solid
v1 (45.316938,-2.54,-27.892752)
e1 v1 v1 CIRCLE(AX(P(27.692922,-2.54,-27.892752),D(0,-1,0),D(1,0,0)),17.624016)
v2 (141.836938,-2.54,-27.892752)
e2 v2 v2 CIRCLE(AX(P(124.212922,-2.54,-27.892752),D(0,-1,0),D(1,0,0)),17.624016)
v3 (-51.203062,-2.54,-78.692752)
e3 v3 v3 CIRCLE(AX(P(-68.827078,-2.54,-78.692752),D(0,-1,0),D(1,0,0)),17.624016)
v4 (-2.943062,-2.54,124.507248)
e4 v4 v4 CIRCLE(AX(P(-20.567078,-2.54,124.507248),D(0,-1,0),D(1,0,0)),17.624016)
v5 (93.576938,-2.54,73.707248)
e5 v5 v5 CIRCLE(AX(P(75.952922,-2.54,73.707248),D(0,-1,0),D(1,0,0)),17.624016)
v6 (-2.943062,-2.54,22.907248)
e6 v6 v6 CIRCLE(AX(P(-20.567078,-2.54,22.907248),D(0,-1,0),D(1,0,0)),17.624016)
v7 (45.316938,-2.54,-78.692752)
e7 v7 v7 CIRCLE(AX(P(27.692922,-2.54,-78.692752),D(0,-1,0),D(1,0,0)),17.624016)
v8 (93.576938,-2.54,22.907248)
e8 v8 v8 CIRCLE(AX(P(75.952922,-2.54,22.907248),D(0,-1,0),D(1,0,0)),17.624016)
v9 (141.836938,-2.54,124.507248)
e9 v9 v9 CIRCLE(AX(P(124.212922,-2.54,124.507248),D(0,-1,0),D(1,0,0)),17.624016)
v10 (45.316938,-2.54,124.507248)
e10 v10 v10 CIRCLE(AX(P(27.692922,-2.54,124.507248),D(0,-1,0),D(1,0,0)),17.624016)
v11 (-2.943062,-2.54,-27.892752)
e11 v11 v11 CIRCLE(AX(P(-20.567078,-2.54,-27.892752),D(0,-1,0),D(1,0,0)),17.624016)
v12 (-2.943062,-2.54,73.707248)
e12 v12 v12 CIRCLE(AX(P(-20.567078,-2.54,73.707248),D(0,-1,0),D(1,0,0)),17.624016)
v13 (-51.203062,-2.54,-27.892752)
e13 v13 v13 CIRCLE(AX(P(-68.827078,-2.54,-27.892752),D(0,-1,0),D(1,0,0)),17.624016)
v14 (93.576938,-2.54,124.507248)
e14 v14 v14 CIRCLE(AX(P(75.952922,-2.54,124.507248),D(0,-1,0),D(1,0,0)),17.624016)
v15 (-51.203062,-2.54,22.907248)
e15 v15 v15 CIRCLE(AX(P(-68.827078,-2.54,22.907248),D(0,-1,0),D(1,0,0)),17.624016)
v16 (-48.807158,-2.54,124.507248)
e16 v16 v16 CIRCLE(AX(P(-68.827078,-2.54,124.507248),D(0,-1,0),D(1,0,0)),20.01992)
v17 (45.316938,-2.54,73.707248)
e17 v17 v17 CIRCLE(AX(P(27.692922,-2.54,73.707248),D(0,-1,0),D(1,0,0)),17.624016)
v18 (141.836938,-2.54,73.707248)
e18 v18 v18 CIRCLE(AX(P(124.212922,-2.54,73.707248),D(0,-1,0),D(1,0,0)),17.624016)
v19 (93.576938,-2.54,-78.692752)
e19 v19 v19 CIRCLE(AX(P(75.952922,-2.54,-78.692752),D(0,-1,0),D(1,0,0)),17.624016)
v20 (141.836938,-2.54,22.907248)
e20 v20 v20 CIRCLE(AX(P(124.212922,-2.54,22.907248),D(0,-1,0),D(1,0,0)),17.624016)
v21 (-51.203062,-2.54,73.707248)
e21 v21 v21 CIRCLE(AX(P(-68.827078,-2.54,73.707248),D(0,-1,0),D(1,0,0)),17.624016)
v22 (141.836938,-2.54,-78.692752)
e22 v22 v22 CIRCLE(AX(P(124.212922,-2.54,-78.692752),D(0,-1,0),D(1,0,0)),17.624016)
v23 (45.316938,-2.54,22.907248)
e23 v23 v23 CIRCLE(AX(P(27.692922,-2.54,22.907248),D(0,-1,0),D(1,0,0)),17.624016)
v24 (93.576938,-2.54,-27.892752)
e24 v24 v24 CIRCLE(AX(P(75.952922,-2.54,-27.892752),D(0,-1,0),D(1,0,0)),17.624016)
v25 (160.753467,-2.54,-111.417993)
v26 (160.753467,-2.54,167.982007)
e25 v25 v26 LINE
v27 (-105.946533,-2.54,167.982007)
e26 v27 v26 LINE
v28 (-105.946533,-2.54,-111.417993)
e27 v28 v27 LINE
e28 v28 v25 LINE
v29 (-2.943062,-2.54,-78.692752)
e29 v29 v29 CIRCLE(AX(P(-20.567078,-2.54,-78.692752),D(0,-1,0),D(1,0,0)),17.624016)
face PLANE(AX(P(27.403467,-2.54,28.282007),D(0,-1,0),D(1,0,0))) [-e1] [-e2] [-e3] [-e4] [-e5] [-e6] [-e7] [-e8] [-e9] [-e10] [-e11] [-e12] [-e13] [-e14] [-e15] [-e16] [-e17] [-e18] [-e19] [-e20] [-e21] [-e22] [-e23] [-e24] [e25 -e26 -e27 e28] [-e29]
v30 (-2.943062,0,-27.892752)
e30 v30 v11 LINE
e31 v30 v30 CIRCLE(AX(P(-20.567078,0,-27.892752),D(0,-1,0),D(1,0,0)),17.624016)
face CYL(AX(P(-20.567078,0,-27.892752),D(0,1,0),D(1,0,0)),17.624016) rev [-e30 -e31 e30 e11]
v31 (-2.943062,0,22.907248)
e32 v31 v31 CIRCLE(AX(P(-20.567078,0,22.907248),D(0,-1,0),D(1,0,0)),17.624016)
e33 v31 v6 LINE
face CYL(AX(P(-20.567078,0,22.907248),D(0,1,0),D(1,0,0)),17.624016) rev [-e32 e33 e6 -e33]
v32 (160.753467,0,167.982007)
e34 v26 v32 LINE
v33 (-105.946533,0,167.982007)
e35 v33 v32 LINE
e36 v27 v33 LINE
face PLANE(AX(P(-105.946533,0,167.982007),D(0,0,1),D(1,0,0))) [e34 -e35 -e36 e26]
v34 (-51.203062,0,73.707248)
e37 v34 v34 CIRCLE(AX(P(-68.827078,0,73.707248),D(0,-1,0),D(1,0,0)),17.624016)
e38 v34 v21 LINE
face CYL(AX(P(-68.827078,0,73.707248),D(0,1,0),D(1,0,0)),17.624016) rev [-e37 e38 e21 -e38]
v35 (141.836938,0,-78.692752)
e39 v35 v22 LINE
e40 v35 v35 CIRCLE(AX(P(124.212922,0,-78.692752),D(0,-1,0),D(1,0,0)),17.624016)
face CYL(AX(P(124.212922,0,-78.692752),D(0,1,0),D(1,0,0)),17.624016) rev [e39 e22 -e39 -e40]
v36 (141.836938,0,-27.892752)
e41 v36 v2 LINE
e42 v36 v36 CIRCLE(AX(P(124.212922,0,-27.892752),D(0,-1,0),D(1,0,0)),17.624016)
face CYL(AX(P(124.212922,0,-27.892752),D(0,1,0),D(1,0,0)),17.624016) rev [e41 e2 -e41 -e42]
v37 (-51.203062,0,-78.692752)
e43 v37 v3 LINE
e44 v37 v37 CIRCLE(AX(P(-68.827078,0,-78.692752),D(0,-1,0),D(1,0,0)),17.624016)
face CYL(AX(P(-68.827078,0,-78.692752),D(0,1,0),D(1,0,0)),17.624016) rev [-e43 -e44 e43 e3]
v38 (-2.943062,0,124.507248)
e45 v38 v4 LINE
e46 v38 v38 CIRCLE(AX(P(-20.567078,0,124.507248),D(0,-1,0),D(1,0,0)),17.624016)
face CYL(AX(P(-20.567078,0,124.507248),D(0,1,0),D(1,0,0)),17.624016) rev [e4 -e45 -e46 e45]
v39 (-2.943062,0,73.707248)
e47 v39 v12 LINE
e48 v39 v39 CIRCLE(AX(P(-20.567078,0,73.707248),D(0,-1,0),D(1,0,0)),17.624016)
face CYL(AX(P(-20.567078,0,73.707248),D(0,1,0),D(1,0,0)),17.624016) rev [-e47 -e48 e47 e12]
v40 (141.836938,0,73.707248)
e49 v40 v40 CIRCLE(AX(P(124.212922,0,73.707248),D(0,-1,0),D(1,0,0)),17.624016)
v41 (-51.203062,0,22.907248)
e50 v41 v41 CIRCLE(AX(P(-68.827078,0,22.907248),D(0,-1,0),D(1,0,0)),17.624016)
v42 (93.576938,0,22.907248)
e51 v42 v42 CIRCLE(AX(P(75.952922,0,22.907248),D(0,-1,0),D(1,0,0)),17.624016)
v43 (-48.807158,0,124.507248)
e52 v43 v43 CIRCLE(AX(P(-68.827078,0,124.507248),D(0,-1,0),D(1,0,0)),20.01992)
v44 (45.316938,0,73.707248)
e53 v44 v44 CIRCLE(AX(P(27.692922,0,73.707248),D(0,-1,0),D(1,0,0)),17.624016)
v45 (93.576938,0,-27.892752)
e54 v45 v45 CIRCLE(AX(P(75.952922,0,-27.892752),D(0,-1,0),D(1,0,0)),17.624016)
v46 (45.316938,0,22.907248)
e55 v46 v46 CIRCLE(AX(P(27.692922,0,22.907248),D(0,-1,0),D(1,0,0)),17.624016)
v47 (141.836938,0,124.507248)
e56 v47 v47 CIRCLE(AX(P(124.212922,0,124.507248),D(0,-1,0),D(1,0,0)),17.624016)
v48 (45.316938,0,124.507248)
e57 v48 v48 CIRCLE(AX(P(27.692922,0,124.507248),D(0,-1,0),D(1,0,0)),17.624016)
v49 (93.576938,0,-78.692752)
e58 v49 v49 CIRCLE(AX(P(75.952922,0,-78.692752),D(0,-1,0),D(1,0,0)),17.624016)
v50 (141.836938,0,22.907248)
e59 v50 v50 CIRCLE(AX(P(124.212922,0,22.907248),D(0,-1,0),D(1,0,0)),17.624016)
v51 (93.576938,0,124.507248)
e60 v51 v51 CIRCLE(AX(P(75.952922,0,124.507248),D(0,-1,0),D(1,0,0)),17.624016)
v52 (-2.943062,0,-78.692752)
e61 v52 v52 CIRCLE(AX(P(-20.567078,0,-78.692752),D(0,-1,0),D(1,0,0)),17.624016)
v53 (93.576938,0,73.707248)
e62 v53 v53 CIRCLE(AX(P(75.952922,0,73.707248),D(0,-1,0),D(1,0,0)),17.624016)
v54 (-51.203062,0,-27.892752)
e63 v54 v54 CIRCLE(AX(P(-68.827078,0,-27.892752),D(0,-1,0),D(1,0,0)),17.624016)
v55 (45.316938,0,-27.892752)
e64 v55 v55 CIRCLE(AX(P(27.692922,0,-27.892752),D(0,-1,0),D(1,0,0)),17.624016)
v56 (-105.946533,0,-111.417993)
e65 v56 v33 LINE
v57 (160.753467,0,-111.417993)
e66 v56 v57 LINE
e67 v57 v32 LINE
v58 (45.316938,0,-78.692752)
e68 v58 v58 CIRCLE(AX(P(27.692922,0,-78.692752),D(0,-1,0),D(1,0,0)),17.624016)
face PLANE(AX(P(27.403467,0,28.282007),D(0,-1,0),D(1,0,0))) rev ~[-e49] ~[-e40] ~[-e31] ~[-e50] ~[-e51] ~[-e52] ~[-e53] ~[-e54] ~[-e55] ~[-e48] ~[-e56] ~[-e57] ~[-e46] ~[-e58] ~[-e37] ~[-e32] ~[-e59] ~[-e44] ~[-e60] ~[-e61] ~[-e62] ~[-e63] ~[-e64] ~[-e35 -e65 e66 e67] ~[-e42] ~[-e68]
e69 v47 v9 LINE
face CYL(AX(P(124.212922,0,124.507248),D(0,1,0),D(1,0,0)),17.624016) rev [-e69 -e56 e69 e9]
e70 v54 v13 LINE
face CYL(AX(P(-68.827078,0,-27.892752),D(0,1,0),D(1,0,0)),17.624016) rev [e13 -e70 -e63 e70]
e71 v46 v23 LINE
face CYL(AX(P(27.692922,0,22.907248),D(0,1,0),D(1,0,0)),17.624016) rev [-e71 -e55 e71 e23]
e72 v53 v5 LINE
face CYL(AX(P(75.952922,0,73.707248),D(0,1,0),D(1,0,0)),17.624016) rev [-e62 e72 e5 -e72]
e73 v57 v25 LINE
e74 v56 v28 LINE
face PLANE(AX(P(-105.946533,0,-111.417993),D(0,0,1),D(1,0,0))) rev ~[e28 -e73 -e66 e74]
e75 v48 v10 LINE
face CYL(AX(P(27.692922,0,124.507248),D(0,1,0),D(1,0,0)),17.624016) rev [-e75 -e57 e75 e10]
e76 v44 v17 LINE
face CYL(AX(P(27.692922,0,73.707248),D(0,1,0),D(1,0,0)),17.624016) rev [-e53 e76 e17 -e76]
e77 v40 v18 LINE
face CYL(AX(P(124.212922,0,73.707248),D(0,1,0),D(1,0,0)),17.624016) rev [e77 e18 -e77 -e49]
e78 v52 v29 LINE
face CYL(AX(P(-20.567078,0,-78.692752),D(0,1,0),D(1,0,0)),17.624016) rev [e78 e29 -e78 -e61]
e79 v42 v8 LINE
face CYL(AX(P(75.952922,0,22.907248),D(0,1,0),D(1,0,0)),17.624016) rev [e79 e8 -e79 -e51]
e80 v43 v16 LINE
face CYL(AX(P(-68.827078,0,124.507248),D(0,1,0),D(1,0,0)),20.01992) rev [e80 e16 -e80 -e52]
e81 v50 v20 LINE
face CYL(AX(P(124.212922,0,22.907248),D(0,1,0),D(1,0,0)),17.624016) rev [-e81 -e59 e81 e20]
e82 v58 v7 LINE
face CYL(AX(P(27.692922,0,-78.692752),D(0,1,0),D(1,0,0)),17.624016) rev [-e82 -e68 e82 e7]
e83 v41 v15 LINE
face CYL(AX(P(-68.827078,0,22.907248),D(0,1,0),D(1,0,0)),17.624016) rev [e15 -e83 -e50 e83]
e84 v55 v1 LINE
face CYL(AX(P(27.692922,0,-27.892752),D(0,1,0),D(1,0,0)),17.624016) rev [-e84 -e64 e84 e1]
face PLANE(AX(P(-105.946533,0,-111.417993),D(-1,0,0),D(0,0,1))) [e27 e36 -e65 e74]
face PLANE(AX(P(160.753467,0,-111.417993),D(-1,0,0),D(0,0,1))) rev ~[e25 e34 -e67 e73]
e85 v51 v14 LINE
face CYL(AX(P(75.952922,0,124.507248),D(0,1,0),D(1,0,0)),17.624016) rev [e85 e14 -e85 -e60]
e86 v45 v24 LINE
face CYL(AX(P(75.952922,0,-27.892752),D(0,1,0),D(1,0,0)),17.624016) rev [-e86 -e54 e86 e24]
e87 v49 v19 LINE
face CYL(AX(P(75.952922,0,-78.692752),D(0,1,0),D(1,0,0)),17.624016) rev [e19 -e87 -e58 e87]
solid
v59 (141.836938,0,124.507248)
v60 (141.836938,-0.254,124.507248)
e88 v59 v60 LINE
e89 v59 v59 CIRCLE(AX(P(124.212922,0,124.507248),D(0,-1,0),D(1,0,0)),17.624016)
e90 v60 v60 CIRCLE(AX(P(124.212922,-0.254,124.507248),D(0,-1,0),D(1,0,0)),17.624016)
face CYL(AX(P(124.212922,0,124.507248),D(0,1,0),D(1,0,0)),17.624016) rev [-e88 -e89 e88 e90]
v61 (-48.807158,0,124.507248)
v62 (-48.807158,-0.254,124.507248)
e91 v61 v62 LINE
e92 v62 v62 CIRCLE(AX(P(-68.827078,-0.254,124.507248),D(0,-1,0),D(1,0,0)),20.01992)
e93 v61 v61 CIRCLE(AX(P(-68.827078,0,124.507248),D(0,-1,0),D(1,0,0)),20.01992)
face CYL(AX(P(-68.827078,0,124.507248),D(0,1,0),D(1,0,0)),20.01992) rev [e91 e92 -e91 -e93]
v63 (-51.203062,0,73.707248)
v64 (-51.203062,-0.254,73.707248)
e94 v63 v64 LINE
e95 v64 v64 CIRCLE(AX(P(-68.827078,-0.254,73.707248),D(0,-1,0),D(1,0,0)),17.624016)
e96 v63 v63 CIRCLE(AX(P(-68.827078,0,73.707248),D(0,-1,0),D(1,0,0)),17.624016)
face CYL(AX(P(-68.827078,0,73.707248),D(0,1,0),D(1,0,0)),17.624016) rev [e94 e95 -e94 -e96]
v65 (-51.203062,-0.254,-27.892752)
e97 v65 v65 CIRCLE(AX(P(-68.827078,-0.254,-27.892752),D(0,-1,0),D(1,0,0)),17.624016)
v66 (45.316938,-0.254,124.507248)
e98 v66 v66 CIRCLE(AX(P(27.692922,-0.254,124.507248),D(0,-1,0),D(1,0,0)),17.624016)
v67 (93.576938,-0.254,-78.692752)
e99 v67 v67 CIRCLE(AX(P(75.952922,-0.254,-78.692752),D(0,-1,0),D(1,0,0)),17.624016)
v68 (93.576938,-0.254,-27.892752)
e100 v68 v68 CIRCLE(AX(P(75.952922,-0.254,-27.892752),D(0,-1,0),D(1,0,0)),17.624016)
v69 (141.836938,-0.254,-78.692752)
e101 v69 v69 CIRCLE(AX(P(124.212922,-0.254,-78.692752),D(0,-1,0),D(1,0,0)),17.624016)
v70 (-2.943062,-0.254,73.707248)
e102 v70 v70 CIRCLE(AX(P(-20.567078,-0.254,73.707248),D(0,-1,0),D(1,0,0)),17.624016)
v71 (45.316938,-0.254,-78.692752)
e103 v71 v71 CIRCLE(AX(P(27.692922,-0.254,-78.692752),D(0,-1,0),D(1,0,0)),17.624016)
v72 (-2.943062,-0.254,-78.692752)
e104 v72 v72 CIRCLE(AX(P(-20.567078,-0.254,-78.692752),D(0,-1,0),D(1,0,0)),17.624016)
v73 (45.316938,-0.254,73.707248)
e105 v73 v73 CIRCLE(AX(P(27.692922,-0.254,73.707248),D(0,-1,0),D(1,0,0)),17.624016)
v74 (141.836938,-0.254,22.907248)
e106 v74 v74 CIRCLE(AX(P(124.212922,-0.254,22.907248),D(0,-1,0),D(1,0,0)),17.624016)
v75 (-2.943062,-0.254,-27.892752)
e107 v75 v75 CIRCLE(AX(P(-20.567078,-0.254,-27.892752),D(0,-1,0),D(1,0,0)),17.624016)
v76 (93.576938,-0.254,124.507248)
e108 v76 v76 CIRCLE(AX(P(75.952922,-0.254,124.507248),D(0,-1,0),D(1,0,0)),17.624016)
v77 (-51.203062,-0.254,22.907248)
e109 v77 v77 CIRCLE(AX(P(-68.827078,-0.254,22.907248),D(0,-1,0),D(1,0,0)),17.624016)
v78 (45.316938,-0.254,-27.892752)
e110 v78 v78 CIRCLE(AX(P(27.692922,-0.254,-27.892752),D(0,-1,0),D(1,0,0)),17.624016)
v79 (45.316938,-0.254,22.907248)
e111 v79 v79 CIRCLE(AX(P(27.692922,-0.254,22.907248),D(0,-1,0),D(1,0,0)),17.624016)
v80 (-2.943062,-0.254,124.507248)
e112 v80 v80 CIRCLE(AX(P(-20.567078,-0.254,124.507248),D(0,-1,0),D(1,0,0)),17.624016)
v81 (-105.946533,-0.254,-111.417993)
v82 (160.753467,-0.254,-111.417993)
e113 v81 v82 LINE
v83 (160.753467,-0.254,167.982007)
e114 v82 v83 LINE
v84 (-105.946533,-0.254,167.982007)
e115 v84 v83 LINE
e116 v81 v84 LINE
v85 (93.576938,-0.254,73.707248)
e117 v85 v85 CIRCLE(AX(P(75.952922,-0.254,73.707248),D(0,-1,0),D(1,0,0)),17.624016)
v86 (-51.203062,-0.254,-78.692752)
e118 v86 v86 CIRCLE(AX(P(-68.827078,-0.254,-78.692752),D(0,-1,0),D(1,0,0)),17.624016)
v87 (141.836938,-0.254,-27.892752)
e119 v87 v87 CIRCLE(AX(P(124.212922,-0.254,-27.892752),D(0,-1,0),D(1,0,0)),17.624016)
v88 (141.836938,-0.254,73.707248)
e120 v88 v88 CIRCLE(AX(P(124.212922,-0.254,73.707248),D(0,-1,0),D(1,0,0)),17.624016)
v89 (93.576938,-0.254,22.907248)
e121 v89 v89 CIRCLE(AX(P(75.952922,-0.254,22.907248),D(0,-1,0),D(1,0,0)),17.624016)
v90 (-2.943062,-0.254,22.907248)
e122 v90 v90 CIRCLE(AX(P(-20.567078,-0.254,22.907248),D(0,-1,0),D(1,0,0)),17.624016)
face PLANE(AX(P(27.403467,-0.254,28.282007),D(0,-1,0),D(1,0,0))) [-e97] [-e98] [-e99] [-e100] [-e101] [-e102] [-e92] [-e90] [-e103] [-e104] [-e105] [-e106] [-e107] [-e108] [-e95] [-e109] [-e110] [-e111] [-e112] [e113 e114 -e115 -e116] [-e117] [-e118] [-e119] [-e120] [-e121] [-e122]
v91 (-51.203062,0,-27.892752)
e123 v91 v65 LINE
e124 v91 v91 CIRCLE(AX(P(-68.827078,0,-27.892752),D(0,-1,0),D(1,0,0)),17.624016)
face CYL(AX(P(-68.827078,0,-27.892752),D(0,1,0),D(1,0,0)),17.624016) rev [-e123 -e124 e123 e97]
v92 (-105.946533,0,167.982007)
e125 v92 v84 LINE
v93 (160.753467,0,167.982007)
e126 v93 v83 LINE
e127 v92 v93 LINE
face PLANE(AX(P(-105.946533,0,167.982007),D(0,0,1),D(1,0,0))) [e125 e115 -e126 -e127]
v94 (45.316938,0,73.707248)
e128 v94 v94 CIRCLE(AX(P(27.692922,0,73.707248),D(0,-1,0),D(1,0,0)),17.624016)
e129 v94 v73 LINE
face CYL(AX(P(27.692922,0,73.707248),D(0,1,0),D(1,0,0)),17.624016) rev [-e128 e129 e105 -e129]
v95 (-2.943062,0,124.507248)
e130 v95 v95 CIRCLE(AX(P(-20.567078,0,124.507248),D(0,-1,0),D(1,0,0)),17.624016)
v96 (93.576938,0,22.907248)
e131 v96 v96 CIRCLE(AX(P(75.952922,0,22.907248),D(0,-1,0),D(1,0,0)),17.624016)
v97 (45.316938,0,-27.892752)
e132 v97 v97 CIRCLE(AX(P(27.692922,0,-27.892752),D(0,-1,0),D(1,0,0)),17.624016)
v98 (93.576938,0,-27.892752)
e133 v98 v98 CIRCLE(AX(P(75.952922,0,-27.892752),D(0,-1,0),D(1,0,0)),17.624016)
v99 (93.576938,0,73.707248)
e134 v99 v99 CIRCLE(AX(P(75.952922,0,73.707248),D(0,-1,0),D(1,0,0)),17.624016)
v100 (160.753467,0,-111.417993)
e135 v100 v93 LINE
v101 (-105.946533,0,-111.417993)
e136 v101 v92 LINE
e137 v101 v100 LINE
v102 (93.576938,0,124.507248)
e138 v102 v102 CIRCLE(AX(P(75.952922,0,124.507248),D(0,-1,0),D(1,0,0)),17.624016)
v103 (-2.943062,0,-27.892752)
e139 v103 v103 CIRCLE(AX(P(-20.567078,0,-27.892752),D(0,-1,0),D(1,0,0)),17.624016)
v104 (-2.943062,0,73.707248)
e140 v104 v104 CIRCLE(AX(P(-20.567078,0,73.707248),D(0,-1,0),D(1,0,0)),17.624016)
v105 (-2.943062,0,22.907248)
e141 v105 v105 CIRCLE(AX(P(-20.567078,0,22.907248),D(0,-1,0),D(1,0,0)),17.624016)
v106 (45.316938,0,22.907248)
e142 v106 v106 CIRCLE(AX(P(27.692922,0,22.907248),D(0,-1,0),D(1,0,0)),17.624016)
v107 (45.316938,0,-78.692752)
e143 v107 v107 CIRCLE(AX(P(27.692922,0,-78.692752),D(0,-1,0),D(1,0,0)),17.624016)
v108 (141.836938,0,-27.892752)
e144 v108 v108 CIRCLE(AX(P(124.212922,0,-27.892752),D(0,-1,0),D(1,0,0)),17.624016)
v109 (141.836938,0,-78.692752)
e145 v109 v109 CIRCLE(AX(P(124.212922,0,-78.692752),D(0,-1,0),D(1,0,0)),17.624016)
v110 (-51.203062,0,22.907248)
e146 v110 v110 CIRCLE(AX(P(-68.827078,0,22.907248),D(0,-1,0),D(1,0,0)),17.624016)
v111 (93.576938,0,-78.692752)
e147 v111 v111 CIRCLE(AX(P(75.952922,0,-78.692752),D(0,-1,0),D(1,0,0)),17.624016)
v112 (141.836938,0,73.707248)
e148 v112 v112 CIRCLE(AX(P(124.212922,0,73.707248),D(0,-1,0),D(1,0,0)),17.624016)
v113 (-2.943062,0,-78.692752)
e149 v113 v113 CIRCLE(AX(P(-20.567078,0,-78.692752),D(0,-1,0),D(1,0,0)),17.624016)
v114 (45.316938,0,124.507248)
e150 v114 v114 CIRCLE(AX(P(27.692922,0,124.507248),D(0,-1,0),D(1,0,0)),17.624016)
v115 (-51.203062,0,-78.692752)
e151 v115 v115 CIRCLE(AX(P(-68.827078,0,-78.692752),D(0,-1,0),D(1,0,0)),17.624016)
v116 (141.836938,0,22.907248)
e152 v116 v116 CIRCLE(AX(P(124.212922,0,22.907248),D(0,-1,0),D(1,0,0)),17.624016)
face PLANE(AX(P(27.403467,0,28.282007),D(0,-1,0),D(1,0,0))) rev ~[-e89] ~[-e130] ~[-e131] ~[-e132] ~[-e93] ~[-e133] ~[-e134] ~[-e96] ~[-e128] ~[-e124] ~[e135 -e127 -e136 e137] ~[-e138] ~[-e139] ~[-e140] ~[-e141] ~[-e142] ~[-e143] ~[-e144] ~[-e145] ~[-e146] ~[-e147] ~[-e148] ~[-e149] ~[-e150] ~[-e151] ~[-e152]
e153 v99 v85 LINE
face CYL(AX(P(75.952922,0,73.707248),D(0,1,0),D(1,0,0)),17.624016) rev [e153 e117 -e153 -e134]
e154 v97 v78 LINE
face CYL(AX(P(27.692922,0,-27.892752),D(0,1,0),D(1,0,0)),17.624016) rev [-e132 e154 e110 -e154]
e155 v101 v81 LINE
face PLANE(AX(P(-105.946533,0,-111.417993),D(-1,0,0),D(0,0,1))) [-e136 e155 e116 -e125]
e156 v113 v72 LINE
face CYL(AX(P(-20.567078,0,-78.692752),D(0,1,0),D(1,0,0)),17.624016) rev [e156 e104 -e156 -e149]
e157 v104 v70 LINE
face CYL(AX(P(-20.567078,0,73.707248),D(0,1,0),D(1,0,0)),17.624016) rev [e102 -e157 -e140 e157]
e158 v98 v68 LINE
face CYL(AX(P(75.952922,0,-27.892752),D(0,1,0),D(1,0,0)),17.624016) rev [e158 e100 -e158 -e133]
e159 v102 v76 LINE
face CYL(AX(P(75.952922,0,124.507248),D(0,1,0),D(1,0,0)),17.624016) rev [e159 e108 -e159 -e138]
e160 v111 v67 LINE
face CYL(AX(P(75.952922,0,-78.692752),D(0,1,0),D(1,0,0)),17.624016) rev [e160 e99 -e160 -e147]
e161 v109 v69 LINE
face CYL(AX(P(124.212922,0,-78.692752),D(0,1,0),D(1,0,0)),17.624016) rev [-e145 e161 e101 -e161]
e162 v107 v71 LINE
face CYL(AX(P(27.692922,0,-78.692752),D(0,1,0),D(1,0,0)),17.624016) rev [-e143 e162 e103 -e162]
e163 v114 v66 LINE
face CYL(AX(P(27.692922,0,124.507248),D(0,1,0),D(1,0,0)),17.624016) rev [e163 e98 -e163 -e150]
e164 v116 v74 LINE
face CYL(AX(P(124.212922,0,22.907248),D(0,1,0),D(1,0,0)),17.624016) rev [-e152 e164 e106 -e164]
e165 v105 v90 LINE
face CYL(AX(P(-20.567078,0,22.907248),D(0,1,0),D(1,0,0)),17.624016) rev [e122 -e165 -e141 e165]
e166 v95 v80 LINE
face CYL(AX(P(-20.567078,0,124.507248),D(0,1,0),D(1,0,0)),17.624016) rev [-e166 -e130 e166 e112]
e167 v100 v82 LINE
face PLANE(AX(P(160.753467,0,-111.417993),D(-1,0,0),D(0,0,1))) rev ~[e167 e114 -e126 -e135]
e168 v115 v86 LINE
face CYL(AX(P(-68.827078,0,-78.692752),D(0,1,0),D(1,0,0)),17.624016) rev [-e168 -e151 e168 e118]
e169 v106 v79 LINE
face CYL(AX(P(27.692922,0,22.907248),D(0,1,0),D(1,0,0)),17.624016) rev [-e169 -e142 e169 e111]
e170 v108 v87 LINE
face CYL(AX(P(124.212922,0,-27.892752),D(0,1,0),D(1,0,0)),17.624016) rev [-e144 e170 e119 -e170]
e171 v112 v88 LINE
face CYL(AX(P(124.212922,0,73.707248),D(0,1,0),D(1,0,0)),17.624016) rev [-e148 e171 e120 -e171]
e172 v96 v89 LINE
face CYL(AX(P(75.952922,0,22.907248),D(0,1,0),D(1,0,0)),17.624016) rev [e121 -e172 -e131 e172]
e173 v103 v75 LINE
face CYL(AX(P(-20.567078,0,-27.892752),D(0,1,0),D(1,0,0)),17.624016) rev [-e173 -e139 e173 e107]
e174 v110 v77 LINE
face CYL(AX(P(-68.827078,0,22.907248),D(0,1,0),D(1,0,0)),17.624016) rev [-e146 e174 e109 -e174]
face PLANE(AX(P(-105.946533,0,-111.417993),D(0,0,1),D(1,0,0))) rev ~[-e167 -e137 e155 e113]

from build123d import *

# Parameters (mm, degrees)
F0_W     = 266.7
F0_H     = 279.4
F0_R     = 17.624016
F0_R_2   = 20.01992
F1_DEPTH = 2.54
F2_DEPTH = 1.27
F3_DEPTH = 0.254


with BuildPart() as f1:
    # F0 (on Front) → F1 (new body)
    with BuildSketch(Plane.XZ):
        with Locations((27.403467, 28.282007)):
            Rectangle(F0_W, F0_H)
        with Locations((-68.827078, -78.692752)):
            Circle(F0_R, mode=Mode.SUBTRACT)
        with Locations((-20.567078, -78.692752)):
            Circle(F0_R, mode=Mode.SUBTRACT)
        with Locations((-68.827078, -27.892752)):
            Circle(F0_R, mode=Mode.SUBTRACT)
        with Locations((-68.827078, 22.907248)):
            Circle(F0_R, mode=Mode.SUBTRACT)
        with Locations((-20.567078, -27.892752)):
            Circle(F0_R, mode=Mode.SUBTRACT)
        with Locations((-20.567078, 22.907248)):
            Circle(F0_R, mode=Mode.SUBTRACT)
        with Locations((27.692922, -78.692752)):
            Circle(F0_R, mode=Mode.SUBTRACT)
        with Locations((75.952922, -78.692752)):
            Circle(F0_R, mode=Mode.SUBTRACT)
        with Locations((124.212922, -78.692752)):
            Circle(F0_R, mode=Mode.SUBTRACT)
        with Locations((27.692922, -27.892752)):
            Circle(F0_R, mode=Mode.SUBTRACT)
        with Locations((75.952922, -27.892752)):
            Circle(F0_R, mode=Mode.SUBTRACT)
        with Locations((27.692922, 22.907248)):
            Circle(F0_R, mode=Mode.SUBTRACT)
        with Locations((75.952922, 22.907248)):
            Circle(F0_R, mode=Mode.SUBTRACT)
        with Locations((124.212922, -27.892752)):
            Circle(F0_R, mode=Mode.SUBTRACT)
        with Locations((124.212922, 22.907248)):
            Circle(F0_R, mode=Mode.SUBTRACT)
        with Locations((-68.827078, 73.707248)):
            Circle(F0_R, mode=Mode.SUBTRACT)
        with Locations((-20.567078, 73.707248)):
            Circle(F0_R, mode=Mode.SUBTRACT)
        with Locations((-68.827078, 124.507248)):
            Circle(F0_R_2, mode=Mode.SUBTRACT)
        with Locations((-20.567078, 124.507248)):
            Circle(F0_R, mode=Mode.SUBTRACT)
        with Locations((27.692922, 73.707248)):
            Circle(F0_R, mode=Mode.SUBTRACT)
        with Locations((75.952922, 73.707248)):
            Circle(F0_R, mode=Mode.SUBTRACT)
        with Locations((124.212922, 73.707248)):
            Circle(F0_R, mode=Mode.SUBTRACT)
        with Locations((27.692922, 124.507248)):
            Circle(F0_R, mode=Mode.SUBTRACT)
        with Locations((75.952922, 124.507248)):
            Circle(F0_R, mode=Mode.SUBTRACT)
        with Locations((124.212922, 124.507248)):
            Circle(F0_R, mode=Mode.SUBTRACT)
    extrude(amount=F1_DEPTH)

    # F0 (on Front) → F2 (join)
    with BuildSketch(Plane.XZ):
        with Locations((27.403467, 28.282007)):
            Rectangle(F0_W, F0_H)
        with Locations((-68.827078, -78.692752)):
            Circle(F0_R, mode=Mode.SUBTRACT)
        with Locations((-20.567078, -78.692752)):
            Circle(F0_R, mode=Mode.SUBTRACT)
        with Locations((-68.827078, -27.892752)):
            Circle(F0_R, mode=Mode.SUBTRACT)
        with Locations((-68.827078, 22.907248)):
            Circle(F0_R, mode=Mode.SUBTRACT)
        with Locations((-20.567078, -27.892752)):
            Circle(F0_R, mode=Mode.SUBTRACT)
        with Locations((-20.567078, 22.907248)):
            Circle(F0_R, mode=Mode.SUBTRACT)
        with Locations((27.692922, -78.692752)):
            Circle(F0_R, mode=Mode.SUBTRACT)
        with Locations((75.952922, -78.692752)):
            Circle(F0_R, mode=Mode.SUBTRACT)
        with Locations((124.212922, -78.692752)):
            Circle(F0_R, mode=Mode.SUBTRACT)
        with Locations((27.692922, -27.892752)):
            Circle(F0_R, mode=Mode.SUBTRACT)
        with Locations((75.952922, -27.892752)):
            Circle(F0_R, mode=Mode.SUBTRACT)
        with Locations((27.692922, 22.907248)):
            Circle(F0_R, mode=Mode.SUBTRACT)
        with Locations((75.952922, 22.907248)):
            Circle(F0_R, mode=Mode.SUBTRACT)
        with Locations((124.212922, -27.892752)):
            Circle(F0_R, mode=Mode.SUBTRACT)
        with Locations((124.212922, 22.907248)):
            Circle(F0_R, mode=Mode.SUBTRACT)
        with Locations((-68.827078, 73.707248)):
            Circle(F0_R, mode=Mode.SUBTRACT)
        with Locations((-20.567078, 73.707248)):
            Circle(F0_R, mode=Mode.SUBTRACT)
        with Locations((-68.827078, 124.507248)):
            Circle(F0_R_2, mode=Mode.SUBTRACT)
        with Locations((-20.567078, 124.507248)):
            Circle(F0_R, mode=Mode.SUBTRACT)
        with Locations((27.692922, 73.707248)):
            Circle(F0_R, mode=Mode.SUBTRACT)
        with Locations((75.952922, 73.707248)):
            Circle(F0_R, mode=Mode.SUBTRACT)
        with Locations((124.212922, 73.707248)):
            Circle(F0_R, mode=Mode.SUBTRACT)
        with Locations((27.692922, 124.507248)):
            Circle(F0_R, mode=Mode.SUBTRACT)
        with Locations((75.952922, 124.507248)):
            Circle(F0_R, mode=Mode.SUBTRACT)
        with Locations((124.212922, 124.507248)):
            Circle(F0_R, mode=Mode.SUBTRACT)
    extrude(amount=F2_DEPTH)


with BuildPart() as f3:
    # F0 (on Front) → F3 (new body)
    with BuildSketch(Plane.XZ):
        with Locations((27.403467, 28.282007)):
            Rectangle(F0_W, F0_H)
        with Locations((-68.827078, -78.692752)):
            Circle(F0_R, mode=Mode.SUBTRACT)
        with Locations((-20.567078, -78.692752)):
            Circle(F0_R, mode=Mode.SUBTRACT)
        with Locations((-68.827078, -27.892752)):
            Circle(F0_R, mode=Mode.SUBTRACT)
        with Locations((-68.827078, 22.907248)):
            Circle(F0_R, mode=Mode.SUBTRACT)
        with Locations((-20.567078, -27.892752)):
            Circle(F0_R, mode=Mode.SUBTRACT)
        with Locations((-20.567078, 22.907248)):
            Circle(F0_R, mode=Mode.SUBTRACT)
        with Locations((27.692922, -78.692752)):
            Circle(F0_R, mode=Mode.SUBTRACT)
        with Locations((75.952922, -78.692752)):
            Circle(F0_R, mode=Mode.SUBTRACT)
        with Locations((124.212922, -78.692752)):
            Circle(F0_R, mode=Mode.SUBTRACT)
        with Locations((27.692922, -27.892752)):
            Circle(F0_R, mode=Mode.SUBTRACT)
        with Locations((75.952922, -27.892752)):
            Circle(F0_R, mode=Mode.SUBTRACT)
        with Locations((27.692922, 22.907248)):
            Circle(F0_R, mode=Mode.SUBTRACT)
        with Locations((75.952922, 22.907248)):
            Circle(F0_R, mode=Mode.SUBTRACT)
        with Locations((124.212922, -27.892752)):
            Circle(F0_R, mode=Mode.SUBTRACT)
        with Locations((124.212922, 22.907248)):
            Circle(F0_R, mode=Mode.SUBTRACT)
        with Locations((-68.827078, 73.707248)):
            Circle(F0_R, mode=Mode.SUBTRACT)
        with Locations((-20.567078, 73.707248)):
            Circle(F0_R, mode=Mode.SUBTRACT)
        with Locations((-68.827078, 124.507248)):
            Circle(F0_R_2, mode=Mode.SUBTRACT)
        with Locations((-20.567078, 124.507248)):
            Circle(F0_R, mode=Mode.SUBTRACT)
        with Locations((27.692922, 73.707248)):
            Circle(F0_R, mode=Mode.SUBTRACT)
        with Locations((75.952922, 73.707248)):
            Circle(F0_R, mode=Mode.SUBTRACT)
        with Locations((124.212922, 73.707248)):
            Circle(F0_R, mode=Mode.SUBTRACT)
        with Locations((27.692922, 124.507248)):
            Circle(F0_R, mode=Mode.SUBTRACT)
        with Locations((75.952922, 124.507248)):
            Circle(F0_R, mode=Mode.SUBTRACT)
        with Locations((124.212922, 124.507248)):
            Circle(F0_R, mode=Mode.SUBTRACT)
    extrude(amount=F3_DEPTH)


solid = Compound([f1.part, f3.part])
